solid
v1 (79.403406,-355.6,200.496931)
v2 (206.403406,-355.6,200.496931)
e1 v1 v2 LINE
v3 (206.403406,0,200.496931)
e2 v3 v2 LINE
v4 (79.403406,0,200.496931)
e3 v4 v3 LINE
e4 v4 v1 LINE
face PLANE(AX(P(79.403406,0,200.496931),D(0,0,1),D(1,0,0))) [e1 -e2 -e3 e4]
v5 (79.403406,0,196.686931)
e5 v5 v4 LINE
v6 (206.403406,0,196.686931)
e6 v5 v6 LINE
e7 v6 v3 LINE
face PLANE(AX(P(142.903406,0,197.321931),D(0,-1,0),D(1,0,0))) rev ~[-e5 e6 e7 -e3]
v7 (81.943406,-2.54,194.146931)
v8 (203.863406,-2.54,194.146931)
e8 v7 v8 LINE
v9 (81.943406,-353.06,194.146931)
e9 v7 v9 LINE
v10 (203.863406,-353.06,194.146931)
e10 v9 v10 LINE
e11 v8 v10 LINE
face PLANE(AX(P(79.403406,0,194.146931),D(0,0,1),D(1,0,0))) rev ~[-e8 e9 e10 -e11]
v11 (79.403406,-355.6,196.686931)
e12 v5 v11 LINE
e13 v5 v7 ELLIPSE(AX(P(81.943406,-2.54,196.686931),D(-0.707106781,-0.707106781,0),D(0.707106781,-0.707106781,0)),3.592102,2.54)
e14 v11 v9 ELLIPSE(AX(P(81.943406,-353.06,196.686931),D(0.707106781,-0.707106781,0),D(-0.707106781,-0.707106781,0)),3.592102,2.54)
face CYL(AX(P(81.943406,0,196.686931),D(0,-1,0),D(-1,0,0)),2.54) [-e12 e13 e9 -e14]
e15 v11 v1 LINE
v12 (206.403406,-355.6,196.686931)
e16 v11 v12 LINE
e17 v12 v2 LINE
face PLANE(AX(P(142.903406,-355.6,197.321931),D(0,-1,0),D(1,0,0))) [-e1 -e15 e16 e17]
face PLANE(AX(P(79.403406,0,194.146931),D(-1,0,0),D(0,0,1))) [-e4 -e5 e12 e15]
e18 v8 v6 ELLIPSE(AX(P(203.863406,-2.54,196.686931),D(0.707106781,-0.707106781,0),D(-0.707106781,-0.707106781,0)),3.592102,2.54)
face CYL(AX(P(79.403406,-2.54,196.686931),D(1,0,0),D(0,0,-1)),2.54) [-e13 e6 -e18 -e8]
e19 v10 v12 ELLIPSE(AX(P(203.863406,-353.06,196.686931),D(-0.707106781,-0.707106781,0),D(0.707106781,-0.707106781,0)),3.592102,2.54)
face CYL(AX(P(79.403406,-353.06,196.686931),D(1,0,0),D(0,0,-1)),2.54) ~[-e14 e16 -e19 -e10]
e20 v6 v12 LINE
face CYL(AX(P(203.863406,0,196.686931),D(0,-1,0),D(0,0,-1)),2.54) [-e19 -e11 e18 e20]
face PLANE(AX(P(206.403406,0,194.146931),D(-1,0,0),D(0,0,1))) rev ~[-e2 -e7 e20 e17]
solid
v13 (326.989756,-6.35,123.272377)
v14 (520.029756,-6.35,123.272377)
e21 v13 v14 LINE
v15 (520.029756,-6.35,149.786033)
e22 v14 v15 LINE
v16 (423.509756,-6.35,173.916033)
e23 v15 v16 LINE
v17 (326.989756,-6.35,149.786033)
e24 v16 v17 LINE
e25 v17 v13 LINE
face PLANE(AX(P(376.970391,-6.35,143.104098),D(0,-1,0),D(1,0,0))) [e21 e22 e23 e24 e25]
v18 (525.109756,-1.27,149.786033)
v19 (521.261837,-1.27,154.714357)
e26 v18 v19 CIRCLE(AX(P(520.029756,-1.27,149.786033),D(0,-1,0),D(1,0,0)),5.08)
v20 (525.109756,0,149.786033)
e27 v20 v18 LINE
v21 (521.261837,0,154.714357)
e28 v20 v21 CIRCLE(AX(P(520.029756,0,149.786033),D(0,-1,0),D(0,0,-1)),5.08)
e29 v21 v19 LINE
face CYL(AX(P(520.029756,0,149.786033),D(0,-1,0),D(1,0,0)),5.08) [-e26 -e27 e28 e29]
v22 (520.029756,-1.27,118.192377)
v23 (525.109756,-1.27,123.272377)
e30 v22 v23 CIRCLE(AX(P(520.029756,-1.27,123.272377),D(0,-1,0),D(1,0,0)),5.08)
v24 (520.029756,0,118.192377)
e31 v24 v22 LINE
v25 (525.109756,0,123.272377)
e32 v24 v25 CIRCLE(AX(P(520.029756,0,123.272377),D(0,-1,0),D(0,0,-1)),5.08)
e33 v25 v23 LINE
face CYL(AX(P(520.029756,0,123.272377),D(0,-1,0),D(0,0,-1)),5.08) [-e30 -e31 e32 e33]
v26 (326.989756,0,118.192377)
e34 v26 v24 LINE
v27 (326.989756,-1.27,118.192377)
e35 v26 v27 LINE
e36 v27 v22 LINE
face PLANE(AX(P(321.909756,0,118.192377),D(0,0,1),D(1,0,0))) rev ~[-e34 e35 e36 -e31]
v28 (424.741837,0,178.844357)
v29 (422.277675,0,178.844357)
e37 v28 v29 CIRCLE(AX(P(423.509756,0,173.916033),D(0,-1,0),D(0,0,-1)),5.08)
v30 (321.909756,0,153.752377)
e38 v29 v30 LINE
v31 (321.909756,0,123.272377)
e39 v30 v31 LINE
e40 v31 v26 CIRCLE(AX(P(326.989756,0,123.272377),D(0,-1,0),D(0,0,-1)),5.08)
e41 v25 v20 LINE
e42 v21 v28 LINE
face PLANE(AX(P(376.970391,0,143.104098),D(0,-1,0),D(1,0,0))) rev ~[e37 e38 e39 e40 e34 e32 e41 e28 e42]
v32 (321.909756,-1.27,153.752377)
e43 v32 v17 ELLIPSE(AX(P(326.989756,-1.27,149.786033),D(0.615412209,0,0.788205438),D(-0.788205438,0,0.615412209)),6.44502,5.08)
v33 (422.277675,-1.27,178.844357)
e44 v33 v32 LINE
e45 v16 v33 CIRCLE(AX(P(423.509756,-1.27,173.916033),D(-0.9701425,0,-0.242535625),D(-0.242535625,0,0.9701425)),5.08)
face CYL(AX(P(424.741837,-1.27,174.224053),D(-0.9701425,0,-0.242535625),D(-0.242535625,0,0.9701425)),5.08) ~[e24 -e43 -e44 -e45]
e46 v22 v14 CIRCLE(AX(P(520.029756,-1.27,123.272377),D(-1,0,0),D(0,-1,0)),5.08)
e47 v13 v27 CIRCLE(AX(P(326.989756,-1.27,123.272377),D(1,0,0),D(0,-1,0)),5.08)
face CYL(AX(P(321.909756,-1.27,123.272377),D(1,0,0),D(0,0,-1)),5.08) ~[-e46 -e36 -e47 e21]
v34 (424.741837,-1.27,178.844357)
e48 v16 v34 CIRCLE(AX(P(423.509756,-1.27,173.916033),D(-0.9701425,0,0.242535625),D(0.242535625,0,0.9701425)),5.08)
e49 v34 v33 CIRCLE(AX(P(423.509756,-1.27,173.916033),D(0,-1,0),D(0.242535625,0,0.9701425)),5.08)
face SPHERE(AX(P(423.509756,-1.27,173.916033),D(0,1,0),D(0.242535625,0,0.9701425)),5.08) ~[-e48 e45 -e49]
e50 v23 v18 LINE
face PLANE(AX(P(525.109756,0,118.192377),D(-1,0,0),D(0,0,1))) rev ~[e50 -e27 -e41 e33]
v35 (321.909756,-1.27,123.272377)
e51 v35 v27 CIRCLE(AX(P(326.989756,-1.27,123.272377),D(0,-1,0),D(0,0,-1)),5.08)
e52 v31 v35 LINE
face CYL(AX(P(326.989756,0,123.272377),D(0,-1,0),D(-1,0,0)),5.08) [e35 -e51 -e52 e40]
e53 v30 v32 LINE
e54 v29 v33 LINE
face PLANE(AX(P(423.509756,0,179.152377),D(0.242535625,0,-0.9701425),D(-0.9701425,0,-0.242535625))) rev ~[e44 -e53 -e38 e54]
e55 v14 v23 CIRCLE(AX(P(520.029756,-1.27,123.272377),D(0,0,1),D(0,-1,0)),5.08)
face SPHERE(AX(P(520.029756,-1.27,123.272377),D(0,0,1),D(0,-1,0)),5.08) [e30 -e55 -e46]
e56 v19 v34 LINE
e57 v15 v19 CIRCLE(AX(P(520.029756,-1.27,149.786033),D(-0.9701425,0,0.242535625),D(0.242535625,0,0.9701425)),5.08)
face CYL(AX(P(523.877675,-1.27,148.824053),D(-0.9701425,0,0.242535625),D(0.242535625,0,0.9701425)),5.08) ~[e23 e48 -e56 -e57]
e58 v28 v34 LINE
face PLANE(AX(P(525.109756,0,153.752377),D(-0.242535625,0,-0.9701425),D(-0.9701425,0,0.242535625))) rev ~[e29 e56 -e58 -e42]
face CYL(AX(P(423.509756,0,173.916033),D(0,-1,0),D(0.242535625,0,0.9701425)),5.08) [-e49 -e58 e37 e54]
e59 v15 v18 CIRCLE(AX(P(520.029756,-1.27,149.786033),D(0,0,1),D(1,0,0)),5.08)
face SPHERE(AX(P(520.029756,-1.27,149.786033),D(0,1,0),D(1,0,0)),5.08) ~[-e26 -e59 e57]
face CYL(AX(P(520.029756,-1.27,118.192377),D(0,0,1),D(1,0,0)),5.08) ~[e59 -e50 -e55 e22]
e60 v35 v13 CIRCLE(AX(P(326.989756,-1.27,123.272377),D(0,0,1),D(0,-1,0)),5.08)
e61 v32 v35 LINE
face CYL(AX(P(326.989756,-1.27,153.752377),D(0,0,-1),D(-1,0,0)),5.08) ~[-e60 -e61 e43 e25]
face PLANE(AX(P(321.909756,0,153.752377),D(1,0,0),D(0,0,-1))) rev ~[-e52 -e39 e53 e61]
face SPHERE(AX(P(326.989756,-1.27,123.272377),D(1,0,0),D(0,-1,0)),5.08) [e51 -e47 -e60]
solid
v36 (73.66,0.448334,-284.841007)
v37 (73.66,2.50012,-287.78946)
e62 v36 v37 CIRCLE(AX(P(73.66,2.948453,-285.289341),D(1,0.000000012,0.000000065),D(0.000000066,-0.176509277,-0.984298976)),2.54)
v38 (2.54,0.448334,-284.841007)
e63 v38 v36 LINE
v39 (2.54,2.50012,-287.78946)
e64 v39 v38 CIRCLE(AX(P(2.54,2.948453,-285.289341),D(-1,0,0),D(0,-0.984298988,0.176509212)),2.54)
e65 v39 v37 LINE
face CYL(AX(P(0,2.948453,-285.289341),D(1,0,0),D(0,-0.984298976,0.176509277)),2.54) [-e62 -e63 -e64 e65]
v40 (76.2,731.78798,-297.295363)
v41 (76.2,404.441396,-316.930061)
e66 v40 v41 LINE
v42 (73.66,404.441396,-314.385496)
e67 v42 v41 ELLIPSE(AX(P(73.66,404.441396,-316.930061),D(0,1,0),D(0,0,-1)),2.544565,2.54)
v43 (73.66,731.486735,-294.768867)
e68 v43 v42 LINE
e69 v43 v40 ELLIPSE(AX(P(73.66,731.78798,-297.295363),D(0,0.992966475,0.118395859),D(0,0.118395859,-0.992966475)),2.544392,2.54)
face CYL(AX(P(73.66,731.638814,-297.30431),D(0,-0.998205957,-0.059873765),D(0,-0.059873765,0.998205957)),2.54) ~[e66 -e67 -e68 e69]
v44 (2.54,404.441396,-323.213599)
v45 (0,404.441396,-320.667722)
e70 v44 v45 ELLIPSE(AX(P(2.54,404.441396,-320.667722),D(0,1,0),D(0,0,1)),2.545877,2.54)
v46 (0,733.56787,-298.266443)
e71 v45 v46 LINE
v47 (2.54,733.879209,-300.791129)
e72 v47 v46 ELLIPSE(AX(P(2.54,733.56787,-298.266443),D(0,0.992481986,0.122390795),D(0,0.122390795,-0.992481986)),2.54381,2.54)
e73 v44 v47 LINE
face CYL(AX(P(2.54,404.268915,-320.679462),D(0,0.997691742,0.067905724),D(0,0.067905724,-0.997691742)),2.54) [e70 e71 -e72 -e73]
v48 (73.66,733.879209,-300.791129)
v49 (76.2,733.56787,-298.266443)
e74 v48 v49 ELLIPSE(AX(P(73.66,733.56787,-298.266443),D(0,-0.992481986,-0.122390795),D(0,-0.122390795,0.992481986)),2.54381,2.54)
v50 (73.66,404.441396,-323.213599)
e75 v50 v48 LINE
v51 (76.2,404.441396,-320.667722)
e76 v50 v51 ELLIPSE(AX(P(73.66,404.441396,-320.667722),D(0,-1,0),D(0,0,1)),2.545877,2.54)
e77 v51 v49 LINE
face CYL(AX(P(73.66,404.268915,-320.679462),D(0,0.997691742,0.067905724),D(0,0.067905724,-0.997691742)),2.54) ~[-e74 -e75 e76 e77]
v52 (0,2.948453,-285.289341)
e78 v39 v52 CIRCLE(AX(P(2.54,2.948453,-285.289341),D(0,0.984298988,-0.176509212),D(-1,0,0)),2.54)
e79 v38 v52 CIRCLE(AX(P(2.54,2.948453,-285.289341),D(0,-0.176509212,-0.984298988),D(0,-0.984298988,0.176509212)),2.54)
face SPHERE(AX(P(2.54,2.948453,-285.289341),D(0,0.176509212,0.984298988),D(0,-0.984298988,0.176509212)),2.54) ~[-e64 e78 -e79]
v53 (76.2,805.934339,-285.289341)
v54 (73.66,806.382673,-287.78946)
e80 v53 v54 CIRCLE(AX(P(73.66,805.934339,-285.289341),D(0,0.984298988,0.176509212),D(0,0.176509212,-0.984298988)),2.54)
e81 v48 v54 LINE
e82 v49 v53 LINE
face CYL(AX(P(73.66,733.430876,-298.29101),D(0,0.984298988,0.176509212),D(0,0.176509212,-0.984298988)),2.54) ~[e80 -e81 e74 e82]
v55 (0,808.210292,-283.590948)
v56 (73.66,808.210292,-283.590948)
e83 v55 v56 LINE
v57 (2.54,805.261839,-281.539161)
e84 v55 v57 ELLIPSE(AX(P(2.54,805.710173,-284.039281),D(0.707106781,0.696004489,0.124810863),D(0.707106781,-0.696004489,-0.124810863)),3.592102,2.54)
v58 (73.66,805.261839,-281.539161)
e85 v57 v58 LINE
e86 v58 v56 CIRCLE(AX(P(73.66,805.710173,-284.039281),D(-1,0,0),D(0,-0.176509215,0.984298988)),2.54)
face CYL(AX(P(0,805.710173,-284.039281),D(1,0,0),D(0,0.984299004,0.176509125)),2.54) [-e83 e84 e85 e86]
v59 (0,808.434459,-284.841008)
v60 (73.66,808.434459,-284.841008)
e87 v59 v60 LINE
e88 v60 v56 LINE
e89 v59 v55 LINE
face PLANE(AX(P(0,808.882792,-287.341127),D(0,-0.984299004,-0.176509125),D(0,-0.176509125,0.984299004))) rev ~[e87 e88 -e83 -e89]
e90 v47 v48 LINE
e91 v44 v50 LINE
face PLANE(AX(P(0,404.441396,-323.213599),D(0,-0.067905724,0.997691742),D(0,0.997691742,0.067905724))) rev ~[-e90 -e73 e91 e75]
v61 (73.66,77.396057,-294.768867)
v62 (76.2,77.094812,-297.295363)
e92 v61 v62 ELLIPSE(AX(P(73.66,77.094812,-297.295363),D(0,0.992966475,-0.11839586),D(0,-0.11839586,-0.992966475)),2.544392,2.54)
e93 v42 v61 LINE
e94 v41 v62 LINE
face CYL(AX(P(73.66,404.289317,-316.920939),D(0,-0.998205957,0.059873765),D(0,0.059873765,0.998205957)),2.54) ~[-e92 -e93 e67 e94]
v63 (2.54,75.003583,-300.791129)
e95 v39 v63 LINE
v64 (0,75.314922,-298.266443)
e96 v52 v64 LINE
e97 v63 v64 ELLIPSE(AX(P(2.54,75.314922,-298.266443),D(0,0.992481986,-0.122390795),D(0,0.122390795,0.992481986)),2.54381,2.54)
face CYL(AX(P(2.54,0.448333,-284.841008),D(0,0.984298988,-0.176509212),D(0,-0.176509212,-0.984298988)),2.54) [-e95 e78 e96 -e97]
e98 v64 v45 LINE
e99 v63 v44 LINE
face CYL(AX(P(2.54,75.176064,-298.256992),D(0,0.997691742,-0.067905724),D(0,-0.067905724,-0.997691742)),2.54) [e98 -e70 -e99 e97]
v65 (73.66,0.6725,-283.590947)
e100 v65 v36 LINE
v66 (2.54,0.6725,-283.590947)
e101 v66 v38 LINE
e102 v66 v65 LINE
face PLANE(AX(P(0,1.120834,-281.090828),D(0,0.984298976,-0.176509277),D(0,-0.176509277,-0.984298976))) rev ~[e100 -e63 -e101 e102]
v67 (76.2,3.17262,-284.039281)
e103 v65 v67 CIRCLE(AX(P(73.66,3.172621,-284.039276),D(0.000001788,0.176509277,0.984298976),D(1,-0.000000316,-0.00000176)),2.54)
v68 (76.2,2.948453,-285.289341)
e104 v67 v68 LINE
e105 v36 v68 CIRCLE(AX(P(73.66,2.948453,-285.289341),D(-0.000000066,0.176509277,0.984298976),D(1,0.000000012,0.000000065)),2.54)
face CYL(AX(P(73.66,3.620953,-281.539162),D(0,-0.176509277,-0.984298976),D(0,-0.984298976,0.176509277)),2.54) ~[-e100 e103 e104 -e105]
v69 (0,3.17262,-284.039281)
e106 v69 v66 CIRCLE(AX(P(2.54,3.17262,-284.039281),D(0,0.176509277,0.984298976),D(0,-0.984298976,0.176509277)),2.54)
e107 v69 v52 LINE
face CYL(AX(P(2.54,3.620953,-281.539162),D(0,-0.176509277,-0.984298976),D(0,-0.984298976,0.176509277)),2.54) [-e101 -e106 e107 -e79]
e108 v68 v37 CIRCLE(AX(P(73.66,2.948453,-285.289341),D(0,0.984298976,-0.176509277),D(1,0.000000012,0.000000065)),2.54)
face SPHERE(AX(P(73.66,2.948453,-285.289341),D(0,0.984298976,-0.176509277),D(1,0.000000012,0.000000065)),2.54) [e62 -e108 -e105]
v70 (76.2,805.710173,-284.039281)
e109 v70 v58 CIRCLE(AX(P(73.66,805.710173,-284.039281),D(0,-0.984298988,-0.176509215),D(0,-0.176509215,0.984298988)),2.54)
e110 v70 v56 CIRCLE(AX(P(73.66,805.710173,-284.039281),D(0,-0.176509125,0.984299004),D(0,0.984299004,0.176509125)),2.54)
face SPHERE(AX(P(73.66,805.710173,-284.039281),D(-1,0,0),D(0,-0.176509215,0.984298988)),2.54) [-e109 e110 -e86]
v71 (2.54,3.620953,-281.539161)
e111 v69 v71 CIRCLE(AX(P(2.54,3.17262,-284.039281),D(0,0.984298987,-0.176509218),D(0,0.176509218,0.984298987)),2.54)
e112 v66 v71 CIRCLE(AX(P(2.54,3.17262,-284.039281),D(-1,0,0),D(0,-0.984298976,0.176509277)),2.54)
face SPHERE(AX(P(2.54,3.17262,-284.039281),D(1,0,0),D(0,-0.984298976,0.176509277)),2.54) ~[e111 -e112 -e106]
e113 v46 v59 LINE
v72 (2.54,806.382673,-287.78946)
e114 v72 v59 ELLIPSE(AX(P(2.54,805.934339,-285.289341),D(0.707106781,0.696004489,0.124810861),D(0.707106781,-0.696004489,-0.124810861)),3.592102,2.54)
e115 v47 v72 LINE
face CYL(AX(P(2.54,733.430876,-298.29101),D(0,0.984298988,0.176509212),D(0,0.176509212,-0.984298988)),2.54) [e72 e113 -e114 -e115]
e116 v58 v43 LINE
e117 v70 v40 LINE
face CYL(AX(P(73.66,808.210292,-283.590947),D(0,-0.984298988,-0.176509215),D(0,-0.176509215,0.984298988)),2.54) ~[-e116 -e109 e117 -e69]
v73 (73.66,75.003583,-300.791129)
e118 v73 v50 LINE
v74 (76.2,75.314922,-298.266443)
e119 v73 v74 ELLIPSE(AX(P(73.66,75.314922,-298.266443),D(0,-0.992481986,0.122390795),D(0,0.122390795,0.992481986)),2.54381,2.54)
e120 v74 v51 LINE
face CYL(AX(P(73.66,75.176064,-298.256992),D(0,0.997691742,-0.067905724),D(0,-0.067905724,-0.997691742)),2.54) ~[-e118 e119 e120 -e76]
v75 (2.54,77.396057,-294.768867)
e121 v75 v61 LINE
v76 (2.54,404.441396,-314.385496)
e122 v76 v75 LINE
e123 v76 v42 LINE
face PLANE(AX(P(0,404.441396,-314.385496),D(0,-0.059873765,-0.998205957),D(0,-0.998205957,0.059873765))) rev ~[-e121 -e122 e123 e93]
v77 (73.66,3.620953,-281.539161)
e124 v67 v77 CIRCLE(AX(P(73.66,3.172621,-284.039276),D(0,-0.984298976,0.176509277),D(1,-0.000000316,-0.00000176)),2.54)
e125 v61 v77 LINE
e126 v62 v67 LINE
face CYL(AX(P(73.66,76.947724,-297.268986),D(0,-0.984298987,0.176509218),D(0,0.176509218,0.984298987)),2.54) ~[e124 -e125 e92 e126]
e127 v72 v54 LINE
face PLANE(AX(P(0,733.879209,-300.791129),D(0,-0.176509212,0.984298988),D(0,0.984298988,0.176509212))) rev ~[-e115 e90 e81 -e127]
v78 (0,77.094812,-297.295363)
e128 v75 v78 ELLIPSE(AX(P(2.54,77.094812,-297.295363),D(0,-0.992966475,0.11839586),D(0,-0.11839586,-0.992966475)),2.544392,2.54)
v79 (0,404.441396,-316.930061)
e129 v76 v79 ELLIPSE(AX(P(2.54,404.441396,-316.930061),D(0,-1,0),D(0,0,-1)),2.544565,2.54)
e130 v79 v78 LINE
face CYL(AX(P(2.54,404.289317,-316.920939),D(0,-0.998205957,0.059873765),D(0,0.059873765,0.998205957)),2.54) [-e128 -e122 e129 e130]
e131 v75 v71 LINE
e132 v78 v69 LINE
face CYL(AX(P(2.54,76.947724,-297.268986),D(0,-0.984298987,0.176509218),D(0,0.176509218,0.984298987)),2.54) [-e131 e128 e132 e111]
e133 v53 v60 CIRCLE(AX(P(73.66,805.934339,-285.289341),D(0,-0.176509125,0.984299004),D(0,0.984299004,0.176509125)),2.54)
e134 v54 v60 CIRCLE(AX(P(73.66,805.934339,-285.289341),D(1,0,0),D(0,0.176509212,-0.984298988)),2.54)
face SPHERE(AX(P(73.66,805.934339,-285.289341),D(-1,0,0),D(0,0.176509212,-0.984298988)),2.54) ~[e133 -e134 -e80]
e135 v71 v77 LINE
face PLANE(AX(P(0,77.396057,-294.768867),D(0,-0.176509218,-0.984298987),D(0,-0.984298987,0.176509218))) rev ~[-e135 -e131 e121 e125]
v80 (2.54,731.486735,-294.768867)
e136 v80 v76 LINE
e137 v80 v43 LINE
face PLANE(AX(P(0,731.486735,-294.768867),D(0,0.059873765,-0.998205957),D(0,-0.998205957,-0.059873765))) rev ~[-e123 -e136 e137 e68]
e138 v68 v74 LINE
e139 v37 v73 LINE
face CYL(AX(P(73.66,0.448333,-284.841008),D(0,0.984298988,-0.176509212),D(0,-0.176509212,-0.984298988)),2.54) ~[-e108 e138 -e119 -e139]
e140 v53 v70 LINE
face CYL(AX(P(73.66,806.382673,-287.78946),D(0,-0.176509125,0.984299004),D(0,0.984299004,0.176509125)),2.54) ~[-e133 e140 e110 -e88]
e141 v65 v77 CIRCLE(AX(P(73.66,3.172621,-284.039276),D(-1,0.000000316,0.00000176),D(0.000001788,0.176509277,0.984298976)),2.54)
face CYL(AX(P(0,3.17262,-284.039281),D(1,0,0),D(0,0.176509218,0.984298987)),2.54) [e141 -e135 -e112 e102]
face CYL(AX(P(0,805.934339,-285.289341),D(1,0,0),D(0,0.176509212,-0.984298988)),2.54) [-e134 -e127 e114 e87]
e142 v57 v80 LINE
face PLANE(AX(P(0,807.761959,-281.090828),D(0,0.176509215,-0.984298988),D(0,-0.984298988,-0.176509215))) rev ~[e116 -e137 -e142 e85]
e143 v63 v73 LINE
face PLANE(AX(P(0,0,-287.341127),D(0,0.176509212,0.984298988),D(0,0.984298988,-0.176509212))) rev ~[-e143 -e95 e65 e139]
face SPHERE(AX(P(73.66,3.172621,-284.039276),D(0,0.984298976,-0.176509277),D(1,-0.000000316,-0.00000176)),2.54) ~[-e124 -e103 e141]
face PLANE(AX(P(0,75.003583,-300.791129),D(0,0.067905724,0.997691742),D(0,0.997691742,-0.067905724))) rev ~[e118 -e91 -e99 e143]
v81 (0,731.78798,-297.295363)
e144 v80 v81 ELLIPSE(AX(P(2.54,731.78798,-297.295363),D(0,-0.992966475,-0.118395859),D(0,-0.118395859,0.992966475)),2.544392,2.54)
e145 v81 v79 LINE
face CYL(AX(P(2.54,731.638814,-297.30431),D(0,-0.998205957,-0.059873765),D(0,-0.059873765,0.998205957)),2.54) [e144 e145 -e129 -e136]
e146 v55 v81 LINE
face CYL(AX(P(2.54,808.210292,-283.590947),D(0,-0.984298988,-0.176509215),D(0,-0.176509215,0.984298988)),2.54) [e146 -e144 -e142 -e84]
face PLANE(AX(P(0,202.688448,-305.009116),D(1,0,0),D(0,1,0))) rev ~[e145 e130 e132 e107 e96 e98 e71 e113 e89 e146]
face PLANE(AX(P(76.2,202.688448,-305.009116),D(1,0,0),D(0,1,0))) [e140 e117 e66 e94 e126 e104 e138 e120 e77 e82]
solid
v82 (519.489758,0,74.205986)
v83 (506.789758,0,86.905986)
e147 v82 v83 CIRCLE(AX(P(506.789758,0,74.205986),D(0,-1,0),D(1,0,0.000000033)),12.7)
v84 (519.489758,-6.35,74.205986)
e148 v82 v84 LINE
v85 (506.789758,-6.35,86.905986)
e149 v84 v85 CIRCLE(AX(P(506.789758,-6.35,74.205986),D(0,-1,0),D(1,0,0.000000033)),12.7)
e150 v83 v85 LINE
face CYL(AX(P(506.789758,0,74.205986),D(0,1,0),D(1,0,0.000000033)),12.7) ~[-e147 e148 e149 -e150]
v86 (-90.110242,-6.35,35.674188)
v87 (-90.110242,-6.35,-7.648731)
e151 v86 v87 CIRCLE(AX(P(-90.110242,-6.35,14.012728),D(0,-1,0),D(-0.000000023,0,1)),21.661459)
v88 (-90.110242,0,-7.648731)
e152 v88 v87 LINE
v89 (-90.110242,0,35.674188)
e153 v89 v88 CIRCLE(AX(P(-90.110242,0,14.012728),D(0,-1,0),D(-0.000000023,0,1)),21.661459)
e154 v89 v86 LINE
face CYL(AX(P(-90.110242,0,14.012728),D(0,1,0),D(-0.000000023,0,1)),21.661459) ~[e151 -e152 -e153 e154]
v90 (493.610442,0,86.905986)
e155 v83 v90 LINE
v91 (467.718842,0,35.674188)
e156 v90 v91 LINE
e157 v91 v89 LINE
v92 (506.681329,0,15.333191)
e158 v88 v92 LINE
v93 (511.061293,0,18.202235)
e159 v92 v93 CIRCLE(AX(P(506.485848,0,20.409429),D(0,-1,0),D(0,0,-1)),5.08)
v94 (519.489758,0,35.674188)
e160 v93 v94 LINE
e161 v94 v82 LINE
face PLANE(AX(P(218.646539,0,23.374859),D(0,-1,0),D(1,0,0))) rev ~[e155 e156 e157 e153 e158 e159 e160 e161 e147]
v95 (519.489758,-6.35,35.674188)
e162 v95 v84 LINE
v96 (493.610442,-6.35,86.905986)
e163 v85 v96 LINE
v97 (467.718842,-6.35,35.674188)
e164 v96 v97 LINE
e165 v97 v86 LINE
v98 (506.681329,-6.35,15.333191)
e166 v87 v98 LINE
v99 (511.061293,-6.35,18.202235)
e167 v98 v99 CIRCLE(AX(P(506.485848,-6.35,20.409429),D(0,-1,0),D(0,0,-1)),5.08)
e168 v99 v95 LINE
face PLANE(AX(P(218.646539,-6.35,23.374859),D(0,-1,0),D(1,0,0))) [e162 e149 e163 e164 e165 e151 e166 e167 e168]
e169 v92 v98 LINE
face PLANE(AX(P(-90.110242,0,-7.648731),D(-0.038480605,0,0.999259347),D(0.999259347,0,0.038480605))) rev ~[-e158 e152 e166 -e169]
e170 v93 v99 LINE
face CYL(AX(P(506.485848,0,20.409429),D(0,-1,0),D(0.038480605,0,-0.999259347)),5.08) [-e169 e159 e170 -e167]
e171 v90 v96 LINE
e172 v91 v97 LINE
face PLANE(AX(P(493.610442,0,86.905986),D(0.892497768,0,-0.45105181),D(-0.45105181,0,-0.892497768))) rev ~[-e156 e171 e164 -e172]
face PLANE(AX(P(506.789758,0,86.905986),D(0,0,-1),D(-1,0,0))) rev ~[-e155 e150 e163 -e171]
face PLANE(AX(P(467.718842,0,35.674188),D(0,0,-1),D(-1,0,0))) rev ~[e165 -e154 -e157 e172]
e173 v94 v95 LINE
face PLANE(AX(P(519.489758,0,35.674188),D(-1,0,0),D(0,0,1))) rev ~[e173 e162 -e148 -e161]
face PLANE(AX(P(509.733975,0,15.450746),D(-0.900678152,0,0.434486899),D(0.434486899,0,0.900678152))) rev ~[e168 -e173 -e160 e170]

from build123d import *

# Parameters (mm, degrees)
F3_DEPTH = 6.35
F2_W     = 127
F2_H     = 6.35
F4_DEPTH = 355.6
F5_R     = 2.54
F6_DEPTH = 6.35
F8_DEPTH = 76.2
F9_R     = 2.54
F10_R    = 5.08
F10_2_R  = 5.08


with BuildPart() as f3:
    # F0 (on Front) → F3 (new body)
    with BuildSketch(Plane.XZ):
        with BuildLine():
            Line((445.178494, 35.674188), (-90.110242, 35.674188))
            ThreePointArc((-90.110242, 35.674188), (-111.771701, 14.012728), (-90.110242, -7.648731))
            Line((-90.110242, -7.648731), (509.733975, 15.450746))
            Line((509.733975, 15.450746), (519.489758, 35.674188))
            Line((519.489758, 35.674188), (519.489758, 74.205986))
            ThreePointArc((519.489758, 74.205986), (515.770014, 83.186242), (506.789758, 86.905986))
            Line((506.789758, 86.905986), (493.610442, 86.905986))
            Line((493.610442, 86.905986), (467.718842, 35.674188))
            Line((467.718842, 35.674188), (445.178494, 35.674188))
        make_face()
    extrude(amount=F3_DEPTH)

    # F10#2
    f10_2_edges = [f3.edges().sort_by_distance(p)[0] for p in [
        (509.733975, -3.175, 15.450746),
    ]]
    fillet(f10_2_edges, radius=F10_2_R)


with BuildPart() as f4:
    # F2 (on Front) → F4 (new body)
    with BuildSketch(Plane.XZ):
        with Locations((142.903406, 197.321931)):
            Rectangle(F2_W, F2_H)
    extrude(amount=F4_DEPTH)

    # F5
    f5_edges = [f4.edges().sort_by_distance(p)[0] for p in [
        (206.403406, -177.8, 194.146931),
        (79.403406, -177.8, 194.146931),
        (142.903406, -355.6, 194.146931),
        (142.903406, 0, 194.146931),
    ]]
    fillet(f5_edges, radius=F5_R)


with BuildPart() as f6:
    # F1 (on Front) → F6 (new body)
    with BuildSketch(Plane.XZ):
        Polygon((321.909756, 153.752377), (321.909756, 118.192377), (423.509756, 118.192377), (423.509756, 179.152377), align=None)
        Polygon((423.509756, 179.152377), (423.509756, 118.192377), (525.109756, 118.192377), (525.109756, 153.752377), align=None)
    extrude(amount=F6_DEPTH)

    # F10
    f10_edges = [f6.edges().sort_by_distance(p)[0] for p in [
        (525.109756, -6.35, 135.972377),
        (372.709756, -6.35, 166.452377),
        (423.509756, -3.175, 179.152377),
        (474.309756, -6.35, 166.452377),
        (423.509756, -6.35, 118.192377),
        (321.909756, -6.35, 135.972377),
        (321.909756, -3.175, 118.192377),
        (525.109756, -3.175, 118.192377),
        (525.109756, -3.175, 153.752377),
    ]]
    fillet(f10_edges, radius=F10_R)


with BuildPart() as f8:
    # F7 (on Right) → F8 (new body)
    with BuildSketch(Plane.YZ):
        Polygon((75.003583, -300.791129), (404.441396, -323.213599), (404.441396, -314.385496), (77.396057, -294.768867), (1.120834, -281.090828), (0, -287.341127), align=None)
        Polygon((404.441396, -314.385496), (404.441396, -323.213599), (733.879209, -300.791129), (808.882792, -287.341127), (807.761959, -281.090828), (731.486735, -294.768867), align=None)
    extrude(amount=F8_DEPTH)

    # F9
    f9_edges = [f8.edges().sort_by_distance(p)[0] for p in [
        (38.1, 807.761959, -281.090828),
        (76.2, 769.624347, -287.929848),
        (76.2, 567.964066, -304.577181),
        (76.2, 240.918726, -304.577181),
        (38.1, 808.882792, -287.341127),
        (76.2, 771.381001, -294.066128),
        (76.2, 808.322375, -284.215977),
        (76.2, 569.160303, -312.002364),
        (76.2, 239.722489, -312.002364),
        (76.2, 37.501791, -294.066128),
        (76.2, 39.258445, -287.929848),
        (76.2, 0.560417, -284.215977),
        (38.1, 1.120834, -281.090828),
        (0, 0.560417, -284.215977),
        (38.1, 0, -287.341127),
        (0, 567.964066, -304.577181),
        (0, 569.160303, -312.002364),
        (0, 239.722489, -312.002364),
        (0, 240.918726, -304.577181),
        (0, 39.258445, -287.929848),
        (0, 37.501791, -294.066128),
        (0, 771.381001, -294.066128),
        (0, 769.624347, -287.929848),
    ]]
    fillet(f9_edges, radius=F9_R)


solid = Compound([f3.part, f4.part, f6.part, f8.part])
